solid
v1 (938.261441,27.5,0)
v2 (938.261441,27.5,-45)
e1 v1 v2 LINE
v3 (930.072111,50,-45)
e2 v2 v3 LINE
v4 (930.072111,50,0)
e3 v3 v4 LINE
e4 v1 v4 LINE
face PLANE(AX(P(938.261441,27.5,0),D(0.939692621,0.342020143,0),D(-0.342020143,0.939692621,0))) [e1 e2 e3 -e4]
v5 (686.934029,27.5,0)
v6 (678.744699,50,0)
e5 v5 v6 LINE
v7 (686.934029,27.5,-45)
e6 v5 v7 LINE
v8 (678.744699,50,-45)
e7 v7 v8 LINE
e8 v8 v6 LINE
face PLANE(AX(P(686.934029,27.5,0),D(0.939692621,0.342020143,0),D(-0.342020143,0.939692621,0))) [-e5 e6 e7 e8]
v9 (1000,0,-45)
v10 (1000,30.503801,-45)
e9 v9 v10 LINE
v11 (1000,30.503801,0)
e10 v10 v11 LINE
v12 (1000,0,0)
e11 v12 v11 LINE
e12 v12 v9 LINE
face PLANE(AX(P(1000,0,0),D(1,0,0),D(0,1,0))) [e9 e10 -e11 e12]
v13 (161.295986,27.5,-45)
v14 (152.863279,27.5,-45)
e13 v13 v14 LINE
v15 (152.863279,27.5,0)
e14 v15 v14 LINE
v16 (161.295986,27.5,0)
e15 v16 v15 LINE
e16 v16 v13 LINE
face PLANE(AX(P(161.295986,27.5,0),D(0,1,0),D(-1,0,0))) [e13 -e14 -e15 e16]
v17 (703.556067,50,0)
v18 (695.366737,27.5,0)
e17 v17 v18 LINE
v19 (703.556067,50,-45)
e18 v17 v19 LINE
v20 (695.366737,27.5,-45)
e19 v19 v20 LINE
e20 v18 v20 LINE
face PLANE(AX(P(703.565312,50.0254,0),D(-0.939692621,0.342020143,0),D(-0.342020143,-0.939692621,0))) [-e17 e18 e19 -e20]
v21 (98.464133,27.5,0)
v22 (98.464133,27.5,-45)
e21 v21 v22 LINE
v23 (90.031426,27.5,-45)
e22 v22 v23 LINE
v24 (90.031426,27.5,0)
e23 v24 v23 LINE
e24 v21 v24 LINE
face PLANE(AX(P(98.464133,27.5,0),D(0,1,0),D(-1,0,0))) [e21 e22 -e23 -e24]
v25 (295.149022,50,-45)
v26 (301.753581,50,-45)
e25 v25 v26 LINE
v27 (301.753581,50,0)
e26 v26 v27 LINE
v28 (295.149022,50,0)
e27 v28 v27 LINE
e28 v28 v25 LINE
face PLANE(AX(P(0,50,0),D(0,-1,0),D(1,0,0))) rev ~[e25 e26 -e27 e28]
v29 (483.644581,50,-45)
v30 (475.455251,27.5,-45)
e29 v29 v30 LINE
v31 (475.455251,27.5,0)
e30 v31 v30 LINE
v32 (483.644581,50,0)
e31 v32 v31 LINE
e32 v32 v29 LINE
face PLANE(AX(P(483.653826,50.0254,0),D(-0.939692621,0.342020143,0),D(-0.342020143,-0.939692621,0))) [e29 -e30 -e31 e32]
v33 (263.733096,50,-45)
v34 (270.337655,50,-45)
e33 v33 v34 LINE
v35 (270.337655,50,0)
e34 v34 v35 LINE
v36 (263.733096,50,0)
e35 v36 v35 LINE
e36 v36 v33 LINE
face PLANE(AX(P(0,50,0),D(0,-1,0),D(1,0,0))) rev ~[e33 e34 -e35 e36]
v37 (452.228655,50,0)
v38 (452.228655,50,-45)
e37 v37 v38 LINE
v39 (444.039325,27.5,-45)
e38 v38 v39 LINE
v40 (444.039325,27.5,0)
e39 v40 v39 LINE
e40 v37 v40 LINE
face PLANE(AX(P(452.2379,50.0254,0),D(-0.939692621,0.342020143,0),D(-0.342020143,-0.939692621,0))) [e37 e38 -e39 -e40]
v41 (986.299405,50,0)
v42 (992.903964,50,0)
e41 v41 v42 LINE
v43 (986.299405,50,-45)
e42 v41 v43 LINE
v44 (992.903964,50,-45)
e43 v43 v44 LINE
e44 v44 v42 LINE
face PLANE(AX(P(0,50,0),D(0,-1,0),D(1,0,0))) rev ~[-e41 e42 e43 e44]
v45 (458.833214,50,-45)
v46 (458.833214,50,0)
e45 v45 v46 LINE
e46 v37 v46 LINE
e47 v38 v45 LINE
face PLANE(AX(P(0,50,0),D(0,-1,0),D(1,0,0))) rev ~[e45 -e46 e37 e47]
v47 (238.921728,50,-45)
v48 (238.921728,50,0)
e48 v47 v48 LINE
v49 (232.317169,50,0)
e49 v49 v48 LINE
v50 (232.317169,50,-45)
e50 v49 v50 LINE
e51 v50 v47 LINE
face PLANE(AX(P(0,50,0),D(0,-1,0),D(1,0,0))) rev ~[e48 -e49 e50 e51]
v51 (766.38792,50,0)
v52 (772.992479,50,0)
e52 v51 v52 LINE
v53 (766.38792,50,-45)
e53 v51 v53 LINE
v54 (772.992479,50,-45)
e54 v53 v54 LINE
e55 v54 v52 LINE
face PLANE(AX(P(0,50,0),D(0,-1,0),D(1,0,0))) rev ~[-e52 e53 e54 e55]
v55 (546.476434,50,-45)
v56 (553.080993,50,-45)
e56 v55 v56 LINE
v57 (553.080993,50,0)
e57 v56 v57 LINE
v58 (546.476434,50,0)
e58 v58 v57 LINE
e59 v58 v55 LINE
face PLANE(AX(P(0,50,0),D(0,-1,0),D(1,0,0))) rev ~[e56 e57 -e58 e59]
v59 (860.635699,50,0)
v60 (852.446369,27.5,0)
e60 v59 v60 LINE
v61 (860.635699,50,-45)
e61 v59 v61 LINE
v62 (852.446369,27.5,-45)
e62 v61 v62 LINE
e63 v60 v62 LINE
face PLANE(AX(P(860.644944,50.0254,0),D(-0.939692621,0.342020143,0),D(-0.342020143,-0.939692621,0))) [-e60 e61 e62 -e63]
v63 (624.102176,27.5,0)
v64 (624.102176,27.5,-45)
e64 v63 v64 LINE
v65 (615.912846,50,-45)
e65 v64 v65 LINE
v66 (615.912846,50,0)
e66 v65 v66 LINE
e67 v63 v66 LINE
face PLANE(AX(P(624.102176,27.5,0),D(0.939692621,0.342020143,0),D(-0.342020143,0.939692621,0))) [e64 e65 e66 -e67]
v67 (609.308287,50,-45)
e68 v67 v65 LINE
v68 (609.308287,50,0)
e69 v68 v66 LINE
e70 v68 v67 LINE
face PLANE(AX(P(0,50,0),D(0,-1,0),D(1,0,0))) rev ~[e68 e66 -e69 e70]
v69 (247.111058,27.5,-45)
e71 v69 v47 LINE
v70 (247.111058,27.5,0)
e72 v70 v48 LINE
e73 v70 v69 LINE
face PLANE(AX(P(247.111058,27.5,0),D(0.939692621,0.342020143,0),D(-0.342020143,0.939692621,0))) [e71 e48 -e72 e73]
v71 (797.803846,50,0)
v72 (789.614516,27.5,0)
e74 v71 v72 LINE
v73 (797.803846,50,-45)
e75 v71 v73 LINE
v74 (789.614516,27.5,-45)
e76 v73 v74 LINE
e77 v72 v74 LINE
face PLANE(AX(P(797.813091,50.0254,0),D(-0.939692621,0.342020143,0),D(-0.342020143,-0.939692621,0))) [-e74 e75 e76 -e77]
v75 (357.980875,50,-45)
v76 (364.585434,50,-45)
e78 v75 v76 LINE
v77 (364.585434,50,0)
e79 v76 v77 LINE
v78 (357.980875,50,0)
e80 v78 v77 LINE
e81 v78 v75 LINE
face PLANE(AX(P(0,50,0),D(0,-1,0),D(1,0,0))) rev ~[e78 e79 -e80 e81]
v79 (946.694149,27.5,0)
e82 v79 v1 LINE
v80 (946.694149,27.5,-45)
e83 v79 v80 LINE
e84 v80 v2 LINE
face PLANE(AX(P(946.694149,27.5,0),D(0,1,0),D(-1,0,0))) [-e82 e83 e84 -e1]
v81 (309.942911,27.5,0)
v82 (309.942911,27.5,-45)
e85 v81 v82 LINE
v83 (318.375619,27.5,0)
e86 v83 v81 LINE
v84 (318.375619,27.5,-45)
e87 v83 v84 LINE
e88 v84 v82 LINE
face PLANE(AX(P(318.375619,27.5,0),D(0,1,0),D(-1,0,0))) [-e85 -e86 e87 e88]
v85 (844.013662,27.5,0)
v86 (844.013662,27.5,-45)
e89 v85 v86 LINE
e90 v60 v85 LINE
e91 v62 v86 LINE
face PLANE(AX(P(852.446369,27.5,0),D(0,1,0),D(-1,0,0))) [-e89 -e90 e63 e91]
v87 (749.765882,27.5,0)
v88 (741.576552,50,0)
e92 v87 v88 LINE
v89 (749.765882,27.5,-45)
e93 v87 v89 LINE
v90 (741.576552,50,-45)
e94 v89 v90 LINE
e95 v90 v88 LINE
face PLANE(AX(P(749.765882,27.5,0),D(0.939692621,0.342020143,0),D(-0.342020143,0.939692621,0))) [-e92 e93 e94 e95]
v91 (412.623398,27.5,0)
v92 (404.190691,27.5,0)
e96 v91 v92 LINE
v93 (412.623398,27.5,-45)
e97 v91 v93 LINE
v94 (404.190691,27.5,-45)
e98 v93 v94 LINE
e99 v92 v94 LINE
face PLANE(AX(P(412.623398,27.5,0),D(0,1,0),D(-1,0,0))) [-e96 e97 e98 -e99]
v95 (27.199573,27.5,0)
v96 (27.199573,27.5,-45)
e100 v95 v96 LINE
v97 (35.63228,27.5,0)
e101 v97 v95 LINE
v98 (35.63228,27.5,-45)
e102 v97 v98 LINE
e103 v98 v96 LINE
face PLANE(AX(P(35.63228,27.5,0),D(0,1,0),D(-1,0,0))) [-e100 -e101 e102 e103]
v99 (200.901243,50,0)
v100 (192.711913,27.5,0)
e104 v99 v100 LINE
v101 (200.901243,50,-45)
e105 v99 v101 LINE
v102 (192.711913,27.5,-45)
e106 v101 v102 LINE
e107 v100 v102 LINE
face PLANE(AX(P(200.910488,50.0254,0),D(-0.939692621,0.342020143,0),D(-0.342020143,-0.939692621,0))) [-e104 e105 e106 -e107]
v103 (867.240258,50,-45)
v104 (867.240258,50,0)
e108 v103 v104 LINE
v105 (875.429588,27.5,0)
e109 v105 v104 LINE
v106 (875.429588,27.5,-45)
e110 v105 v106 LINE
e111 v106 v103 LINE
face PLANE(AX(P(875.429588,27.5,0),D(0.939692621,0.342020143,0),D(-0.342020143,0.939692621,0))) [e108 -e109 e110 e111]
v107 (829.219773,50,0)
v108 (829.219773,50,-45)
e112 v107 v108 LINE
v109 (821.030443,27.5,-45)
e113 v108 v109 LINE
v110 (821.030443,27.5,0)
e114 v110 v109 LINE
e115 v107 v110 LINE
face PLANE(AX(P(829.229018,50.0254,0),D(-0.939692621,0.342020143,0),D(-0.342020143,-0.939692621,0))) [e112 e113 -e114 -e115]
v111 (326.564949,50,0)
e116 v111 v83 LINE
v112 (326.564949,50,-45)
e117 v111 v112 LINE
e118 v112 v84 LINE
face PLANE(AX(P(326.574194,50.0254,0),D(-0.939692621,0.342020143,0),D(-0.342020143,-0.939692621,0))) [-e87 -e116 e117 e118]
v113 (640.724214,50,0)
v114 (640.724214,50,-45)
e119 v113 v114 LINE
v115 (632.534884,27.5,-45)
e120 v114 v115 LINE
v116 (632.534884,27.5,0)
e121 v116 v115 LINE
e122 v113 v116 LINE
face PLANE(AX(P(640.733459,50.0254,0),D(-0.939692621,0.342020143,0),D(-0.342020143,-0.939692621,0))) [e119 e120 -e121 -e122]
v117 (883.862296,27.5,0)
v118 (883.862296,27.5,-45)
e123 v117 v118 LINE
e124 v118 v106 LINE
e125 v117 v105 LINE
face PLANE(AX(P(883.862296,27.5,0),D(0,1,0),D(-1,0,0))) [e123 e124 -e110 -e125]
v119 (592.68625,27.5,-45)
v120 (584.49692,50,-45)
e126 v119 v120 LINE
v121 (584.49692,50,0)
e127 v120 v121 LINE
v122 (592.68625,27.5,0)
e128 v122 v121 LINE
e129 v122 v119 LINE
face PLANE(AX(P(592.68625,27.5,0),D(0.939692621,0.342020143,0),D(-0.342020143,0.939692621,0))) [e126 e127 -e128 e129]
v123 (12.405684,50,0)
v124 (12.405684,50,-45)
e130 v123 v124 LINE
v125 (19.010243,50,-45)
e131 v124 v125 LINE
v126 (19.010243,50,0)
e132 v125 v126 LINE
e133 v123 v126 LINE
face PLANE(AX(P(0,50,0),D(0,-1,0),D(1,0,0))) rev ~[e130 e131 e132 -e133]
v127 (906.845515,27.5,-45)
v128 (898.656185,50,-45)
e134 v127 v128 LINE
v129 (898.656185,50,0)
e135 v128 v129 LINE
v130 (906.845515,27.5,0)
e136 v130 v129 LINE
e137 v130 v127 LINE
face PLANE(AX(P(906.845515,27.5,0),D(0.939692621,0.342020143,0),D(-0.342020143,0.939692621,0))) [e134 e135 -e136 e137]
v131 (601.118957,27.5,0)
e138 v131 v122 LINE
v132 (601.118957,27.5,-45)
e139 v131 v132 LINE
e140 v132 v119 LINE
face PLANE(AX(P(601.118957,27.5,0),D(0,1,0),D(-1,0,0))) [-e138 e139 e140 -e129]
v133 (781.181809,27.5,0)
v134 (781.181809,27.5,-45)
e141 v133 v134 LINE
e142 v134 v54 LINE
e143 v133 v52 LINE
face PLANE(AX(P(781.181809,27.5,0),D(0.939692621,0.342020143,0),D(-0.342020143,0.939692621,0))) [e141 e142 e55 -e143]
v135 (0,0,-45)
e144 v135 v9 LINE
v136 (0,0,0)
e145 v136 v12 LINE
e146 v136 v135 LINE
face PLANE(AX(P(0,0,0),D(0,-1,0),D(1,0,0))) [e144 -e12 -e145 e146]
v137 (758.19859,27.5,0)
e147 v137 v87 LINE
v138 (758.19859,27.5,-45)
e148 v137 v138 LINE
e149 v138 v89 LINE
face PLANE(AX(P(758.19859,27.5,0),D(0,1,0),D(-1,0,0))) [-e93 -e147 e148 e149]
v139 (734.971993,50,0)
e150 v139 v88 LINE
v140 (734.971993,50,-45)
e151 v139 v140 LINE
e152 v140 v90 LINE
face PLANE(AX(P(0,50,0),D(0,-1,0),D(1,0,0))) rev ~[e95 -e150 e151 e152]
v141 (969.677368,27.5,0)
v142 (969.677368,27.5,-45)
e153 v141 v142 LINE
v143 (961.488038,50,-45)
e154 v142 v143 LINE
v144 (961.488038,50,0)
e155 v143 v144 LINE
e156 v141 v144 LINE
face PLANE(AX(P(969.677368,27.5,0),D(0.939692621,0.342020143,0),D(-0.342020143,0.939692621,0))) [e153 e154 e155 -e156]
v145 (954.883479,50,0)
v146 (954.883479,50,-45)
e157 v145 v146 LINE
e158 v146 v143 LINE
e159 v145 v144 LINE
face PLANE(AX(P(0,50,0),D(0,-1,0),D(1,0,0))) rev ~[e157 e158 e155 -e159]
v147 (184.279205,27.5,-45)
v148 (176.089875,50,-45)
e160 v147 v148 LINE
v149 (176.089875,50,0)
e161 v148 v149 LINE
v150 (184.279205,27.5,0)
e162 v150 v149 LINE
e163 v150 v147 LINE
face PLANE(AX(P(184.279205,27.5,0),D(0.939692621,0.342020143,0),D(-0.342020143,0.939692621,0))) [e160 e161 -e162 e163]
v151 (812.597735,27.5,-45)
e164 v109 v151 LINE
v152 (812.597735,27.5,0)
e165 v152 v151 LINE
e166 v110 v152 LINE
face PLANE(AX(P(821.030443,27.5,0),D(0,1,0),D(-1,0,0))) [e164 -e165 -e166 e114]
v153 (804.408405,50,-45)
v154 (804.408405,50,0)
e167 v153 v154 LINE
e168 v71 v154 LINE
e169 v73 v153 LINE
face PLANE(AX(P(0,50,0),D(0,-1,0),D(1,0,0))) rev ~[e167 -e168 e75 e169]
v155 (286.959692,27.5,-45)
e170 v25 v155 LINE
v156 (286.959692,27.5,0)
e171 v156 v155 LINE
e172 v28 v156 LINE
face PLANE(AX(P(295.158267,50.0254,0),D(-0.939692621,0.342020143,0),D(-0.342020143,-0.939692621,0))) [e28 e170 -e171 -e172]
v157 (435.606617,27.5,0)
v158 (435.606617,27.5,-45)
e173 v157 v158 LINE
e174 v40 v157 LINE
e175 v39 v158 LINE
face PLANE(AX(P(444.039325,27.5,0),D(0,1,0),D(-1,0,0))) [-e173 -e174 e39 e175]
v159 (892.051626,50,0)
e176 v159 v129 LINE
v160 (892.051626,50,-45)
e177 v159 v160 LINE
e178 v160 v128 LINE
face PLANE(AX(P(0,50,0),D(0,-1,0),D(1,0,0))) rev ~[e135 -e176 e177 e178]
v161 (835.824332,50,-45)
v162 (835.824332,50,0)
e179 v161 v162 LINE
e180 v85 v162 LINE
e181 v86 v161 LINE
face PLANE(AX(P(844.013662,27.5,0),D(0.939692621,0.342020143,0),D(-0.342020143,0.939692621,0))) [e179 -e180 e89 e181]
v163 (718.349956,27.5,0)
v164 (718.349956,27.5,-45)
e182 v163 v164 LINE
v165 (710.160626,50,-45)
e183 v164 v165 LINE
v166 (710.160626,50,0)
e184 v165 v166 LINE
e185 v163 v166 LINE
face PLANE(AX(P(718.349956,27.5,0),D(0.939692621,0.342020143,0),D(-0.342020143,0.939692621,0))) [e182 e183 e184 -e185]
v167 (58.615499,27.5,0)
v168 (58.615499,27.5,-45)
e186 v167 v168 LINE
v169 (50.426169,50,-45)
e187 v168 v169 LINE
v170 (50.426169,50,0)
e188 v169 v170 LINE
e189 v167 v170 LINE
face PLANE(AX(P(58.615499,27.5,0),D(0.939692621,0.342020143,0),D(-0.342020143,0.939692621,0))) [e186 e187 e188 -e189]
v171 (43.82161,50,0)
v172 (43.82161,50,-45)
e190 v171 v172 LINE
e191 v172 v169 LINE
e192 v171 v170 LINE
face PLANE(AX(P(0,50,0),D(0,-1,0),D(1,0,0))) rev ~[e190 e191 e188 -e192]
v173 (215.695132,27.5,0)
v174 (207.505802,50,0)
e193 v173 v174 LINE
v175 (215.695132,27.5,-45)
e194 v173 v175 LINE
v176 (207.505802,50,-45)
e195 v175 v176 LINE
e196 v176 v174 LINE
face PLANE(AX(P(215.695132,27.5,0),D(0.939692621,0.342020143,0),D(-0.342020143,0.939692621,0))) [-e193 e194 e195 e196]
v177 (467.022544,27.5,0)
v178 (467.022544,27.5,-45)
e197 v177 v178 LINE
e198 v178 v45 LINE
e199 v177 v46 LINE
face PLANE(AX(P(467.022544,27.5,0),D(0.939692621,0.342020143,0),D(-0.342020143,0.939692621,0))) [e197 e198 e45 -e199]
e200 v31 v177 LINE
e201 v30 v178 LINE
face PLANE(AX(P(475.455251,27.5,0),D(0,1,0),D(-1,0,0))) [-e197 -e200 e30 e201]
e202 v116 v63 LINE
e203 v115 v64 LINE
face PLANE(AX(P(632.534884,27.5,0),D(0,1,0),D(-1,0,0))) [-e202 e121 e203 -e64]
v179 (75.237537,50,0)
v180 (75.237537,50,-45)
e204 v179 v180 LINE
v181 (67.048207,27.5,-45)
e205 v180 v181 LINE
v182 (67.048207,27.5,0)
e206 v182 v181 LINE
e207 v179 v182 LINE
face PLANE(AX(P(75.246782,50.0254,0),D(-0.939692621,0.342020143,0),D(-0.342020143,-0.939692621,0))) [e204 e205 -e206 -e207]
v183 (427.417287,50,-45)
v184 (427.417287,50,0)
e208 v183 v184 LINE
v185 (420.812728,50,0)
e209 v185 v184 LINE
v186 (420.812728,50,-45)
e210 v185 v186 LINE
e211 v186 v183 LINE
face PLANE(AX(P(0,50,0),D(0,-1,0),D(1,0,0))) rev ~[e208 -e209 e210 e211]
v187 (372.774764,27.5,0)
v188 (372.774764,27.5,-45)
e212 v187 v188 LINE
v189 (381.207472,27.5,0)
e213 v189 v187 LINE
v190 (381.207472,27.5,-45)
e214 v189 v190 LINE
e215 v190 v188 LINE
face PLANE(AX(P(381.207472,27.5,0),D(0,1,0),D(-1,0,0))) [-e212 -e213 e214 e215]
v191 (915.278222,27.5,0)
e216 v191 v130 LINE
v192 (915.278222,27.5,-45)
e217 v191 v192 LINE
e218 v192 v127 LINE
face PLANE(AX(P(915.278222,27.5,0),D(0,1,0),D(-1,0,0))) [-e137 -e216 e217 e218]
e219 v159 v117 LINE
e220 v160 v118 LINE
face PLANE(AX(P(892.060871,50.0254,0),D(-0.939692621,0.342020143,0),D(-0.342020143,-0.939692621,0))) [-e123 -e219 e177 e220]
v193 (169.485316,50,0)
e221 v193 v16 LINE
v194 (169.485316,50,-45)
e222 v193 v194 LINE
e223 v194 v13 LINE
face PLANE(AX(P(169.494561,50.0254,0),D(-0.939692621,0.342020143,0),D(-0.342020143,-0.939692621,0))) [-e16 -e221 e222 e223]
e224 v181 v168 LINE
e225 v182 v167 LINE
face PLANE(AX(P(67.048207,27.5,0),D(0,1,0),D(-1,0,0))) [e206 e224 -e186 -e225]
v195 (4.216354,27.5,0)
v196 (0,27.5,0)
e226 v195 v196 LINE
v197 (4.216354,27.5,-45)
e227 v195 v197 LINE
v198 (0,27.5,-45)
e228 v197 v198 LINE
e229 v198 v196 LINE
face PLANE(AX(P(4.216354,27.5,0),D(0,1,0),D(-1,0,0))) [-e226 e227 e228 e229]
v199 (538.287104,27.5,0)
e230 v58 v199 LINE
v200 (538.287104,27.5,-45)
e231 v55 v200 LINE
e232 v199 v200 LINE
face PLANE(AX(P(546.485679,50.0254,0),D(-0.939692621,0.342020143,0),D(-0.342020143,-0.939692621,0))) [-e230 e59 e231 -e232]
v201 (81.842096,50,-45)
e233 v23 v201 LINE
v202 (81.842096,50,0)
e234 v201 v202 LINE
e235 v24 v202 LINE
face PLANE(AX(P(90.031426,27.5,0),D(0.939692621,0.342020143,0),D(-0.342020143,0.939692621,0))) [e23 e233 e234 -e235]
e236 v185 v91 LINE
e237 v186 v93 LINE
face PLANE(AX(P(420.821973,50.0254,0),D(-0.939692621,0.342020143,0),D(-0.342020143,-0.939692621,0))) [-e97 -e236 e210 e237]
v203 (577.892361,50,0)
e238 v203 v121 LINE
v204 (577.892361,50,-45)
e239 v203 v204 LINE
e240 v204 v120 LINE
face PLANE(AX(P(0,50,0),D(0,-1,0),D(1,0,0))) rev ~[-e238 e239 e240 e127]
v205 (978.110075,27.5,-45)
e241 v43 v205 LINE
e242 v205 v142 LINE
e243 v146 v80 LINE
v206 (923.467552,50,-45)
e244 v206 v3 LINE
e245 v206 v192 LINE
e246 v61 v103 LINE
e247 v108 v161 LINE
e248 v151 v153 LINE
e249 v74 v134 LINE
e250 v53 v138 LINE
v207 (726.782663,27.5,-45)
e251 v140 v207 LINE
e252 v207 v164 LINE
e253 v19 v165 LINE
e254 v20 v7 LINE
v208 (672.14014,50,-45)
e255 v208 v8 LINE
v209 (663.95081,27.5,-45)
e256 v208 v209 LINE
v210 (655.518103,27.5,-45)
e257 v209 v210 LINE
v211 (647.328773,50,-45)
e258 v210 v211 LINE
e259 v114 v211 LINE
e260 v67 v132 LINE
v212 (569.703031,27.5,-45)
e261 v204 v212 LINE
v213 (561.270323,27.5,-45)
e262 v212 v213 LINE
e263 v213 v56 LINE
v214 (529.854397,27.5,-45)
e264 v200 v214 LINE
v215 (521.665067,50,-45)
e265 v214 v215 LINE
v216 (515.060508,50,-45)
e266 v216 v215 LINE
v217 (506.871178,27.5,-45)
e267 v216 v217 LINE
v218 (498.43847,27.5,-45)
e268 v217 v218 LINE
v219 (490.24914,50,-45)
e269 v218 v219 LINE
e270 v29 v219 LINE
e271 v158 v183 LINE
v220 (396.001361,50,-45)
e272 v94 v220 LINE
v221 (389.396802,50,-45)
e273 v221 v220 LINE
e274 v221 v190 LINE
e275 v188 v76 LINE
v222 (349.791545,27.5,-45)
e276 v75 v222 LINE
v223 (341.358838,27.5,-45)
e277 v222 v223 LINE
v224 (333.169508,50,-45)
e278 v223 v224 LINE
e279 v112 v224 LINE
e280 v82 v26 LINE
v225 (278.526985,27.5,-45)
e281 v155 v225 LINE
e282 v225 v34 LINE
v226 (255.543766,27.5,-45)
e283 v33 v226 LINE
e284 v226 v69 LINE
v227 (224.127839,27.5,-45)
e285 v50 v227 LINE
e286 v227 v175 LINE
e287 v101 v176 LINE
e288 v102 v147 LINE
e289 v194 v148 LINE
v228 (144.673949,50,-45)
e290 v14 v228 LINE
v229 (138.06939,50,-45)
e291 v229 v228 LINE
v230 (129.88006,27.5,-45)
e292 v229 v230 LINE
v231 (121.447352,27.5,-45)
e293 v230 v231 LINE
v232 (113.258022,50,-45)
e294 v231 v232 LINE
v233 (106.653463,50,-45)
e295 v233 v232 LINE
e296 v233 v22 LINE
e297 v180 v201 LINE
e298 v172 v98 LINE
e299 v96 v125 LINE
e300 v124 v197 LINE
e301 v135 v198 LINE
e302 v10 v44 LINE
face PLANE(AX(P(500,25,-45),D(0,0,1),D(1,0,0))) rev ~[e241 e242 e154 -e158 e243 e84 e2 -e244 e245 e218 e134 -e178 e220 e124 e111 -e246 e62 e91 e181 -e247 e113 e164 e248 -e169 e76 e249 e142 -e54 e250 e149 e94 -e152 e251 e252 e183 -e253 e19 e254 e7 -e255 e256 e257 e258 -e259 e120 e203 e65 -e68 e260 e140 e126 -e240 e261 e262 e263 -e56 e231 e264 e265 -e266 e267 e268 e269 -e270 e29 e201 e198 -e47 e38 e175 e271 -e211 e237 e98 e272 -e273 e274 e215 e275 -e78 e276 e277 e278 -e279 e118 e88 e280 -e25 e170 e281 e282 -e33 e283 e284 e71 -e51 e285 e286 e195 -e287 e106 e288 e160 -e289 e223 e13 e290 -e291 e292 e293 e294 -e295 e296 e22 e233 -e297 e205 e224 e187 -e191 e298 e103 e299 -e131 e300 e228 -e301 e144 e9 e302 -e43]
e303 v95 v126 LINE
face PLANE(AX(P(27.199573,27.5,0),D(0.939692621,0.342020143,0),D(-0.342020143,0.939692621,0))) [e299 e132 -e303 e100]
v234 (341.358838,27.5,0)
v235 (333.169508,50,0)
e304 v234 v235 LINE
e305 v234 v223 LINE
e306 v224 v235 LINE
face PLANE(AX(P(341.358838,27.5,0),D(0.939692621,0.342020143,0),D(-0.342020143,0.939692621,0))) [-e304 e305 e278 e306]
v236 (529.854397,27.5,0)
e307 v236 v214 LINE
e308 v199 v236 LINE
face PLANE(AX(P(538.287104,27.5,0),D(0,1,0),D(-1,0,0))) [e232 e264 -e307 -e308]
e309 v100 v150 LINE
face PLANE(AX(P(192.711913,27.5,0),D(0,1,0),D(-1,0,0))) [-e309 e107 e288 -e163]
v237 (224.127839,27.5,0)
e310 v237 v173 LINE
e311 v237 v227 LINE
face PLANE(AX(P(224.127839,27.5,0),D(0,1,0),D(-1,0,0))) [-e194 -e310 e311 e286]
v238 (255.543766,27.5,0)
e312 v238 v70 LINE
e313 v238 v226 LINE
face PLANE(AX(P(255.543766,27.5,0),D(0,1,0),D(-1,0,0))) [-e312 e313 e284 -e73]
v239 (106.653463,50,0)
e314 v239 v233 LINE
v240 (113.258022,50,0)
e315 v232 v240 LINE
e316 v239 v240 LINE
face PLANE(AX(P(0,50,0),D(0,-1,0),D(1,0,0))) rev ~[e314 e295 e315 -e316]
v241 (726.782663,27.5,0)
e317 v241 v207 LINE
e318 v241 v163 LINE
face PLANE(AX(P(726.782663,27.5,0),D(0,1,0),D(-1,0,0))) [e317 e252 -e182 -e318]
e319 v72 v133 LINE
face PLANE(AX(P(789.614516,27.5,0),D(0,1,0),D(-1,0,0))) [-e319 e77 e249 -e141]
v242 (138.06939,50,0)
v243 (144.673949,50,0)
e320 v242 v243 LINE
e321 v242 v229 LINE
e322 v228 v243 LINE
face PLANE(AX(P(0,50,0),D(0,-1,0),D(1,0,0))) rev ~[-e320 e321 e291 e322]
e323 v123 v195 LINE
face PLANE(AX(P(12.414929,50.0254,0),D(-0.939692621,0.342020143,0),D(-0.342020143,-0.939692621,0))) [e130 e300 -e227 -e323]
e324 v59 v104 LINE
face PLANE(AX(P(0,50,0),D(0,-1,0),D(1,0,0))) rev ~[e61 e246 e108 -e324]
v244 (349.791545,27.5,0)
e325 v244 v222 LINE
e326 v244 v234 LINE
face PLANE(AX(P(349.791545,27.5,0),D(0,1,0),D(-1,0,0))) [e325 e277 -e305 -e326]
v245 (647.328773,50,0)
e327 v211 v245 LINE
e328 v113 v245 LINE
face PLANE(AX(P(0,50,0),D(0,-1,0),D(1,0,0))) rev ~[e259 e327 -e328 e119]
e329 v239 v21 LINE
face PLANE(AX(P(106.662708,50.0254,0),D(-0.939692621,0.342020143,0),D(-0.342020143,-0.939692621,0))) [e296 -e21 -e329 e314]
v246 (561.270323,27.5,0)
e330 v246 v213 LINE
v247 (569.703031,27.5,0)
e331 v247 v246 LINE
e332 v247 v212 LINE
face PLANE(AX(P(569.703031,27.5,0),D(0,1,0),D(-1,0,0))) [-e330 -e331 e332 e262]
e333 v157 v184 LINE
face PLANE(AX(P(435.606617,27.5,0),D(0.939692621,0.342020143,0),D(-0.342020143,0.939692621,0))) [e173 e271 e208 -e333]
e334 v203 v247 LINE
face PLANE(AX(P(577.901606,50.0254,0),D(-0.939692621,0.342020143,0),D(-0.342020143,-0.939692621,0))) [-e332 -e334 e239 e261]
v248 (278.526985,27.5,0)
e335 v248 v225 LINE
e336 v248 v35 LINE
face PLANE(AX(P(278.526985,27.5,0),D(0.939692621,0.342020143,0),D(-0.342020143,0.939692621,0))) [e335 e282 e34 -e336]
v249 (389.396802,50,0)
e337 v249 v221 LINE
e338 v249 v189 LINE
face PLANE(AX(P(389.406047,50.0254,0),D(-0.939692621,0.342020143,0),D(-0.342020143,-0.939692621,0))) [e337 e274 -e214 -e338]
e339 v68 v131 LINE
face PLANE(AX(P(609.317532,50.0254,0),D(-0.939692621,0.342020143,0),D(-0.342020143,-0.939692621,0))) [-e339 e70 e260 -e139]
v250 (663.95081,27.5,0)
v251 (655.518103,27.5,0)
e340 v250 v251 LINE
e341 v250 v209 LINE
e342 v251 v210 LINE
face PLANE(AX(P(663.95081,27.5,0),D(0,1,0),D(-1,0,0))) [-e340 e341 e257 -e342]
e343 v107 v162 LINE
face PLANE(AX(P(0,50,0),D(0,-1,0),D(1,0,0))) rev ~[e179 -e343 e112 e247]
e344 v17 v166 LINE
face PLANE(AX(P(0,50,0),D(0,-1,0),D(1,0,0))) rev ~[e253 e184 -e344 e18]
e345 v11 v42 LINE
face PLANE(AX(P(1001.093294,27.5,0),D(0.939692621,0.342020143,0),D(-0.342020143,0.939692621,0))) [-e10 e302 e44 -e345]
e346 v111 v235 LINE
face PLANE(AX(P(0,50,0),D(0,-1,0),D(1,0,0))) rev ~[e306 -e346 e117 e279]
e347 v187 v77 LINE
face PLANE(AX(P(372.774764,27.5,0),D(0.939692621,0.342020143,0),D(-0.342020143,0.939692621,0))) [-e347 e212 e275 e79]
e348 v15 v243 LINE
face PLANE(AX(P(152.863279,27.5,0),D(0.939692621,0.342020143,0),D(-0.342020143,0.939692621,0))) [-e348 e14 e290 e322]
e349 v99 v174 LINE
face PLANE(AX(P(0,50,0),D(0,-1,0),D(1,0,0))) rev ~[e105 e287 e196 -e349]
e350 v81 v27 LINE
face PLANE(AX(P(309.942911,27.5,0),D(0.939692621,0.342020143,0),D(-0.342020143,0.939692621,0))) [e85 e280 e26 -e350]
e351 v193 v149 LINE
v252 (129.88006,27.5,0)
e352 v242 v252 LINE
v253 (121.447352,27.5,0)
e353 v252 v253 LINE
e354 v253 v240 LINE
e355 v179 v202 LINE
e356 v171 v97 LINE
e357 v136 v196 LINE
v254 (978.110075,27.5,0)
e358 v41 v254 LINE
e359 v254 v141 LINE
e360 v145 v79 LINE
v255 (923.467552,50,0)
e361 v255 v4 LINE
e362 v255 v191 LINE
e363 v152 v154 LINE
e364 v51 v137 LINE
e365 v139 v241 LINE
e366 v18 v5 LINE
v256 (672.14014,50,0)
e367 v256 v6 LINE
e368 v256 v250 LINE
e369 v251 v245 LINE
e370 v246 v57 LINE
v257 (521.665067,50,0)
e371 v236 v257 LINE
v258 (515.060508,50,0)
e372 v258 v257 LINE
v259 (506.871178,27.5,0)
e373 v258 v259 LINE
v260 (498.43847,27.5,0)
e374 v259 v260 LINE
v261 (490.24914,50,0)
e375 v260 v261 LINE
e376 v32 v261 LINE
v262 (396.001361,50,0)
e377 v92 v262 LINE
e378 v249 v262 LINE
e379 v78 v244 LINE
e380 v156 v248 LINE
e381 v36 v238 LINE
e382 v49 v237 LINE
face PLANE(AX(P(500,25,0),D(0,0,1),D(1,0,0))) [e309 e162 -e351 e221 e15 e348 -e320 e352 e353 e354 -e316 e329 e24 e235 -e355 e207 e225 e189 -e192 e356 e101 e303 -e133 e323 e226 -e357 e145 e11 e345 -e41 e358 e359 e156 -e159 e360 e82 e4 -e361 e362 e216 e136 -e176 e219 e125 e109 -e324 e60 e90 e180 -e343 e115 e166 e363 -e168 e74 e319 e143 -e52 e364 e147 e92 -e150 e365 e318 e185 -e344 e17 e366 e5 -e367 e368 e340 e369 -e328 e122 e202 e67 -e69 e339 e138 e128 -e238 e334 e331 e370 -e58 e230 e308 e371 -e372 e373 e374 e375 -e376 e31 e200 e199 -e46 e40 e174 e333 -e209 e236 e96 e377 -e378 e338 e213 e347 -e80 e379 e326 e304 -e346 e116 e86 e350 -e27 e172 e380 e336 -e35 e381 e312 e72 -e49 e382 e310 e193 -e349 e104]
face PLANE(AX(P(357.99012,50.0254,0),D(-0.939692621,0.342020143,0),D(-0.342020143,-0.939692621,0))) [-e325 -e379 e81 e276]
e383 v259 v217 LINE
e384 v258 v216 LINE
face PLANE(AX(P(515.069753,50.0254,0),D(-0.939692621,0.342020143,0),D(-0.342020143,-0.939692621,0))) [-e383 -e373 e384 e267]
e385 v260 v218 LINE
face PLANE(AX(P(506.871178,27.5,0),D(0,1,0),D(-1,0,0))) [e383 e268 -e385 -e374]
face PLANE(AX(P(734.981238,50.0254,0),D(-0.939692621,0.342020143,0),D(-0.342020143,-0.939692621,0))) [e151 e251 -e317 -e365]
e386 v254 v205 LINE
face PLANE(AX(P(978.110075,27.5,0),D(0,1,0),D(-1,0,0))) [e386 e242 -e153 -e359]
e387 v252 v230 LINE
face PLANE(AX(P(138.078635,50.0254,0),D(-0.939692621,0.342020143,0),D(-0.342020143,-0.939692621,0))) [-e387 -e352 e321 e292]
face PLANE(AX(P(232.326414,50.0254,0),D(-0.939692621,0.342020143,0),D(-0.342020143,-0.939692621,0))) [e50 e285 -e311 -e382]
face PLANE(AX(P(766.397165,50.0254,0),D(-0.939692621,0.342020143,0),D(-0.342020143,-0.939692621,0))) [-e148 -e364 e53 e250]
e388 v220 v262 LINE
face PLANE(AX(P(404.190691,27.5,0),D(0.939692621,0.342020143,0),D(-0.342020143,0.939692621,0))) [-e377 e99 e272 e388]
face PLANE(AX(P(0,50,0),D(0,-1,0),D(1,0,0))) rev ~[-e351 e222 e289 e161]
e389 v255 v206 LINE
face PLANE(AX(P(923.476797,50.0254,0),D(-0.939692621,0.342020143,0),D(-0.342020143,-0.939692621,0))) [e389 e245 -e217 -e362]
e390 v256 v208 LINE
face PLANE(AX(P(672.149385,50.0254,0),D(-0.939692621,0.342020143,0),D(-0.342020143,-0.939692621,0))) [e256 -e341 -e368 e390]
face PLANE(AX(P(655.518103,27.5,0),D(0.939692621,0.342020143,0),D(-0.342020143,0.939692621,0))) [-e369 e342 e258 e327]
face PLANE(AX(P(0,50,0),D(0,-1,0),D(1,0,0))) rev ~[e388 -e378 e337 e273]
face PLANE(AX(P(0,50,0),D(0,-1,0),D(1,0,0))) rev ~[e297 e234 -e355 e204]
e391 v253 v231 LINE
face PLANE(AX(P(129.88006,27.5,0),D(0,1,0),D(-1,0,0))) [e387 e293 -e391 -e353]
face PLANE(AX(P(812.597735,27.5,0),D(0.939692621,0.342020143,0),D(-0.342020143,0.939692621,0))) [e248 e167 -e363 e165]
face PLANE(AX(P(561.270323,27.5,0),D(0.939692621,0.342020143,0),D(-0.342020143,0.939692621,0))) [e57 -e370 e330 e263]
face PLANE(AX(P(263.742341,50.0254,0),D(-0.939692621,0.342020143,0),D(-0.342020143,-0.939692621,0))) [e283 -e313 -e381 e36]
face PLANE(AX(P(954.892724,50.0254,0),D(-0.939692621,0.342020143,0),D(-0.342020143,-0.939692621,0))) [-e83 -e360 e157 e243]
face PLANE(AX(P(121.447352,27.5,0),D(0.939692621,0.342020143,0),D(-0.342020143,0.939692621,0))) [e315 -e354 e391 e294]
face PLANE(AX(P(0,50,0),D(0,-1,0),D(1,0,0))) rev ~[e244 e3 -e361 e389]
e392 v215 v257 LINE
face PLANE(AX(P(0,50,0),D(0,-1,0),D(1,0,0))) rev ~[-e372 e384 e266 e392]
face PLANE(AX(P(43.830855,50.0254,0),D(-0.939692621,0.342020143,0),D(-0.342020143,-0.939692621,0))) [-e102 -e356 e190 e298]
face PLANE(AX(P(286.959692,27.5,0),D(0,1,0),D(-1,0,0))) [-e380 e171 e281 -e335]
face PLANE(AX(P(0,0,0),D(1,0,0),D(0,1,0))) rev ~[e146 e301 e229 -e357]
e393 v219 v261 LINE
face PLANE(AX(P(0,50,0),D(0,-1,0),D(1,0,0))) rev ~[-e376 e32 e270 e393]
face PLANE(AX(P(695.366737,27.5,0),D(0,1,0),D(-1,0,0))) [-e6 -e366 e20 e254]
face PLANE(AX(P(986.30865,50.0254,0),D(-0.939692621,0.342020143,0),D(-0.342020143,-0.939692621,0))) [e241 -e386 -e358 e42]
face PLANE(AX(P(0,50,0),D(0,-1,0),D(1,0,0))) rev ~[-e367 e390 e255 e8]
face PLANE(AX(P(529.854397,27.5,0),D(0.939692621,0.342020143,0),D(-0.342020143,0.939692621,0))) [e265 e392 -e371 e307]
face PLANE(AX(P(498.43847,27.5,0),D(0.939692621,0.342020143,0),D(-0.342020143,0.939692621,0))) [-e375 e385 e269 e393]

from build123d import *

# Parameters (mm, degrees)
BLANKSKE_W        = 1000
BLANKSKE_H        = 50
BLANK_DEPTH       = 45
TOOTHCUTSIM_DEPTH = 1003.259946321
TEETHCUTS_COUNT   = 33
TEETHCUTS_PITCH   = 31.4159265


with BuildPart() as part:
    # BlankSke → Blank (new body)
    with BuildSketch(Plane.XY):
        with Locations((500, 25)):
            Rectangle(BLANKSKE_W, BLANKSKE_H)
    extrude(amount=-BLANK_DEPTH)

    # TooCutSkeSim → ToothCutSim (cut, through all)
    with BuildSketch(Plane.XY):
        Polygon((4.216353697, 27.5), (-4.216353697, 27.5), (-12.414928812, 50.0254), (12.414928812, 50.0254), align=None)
    toothcutsim = extrude(amount=-TOOTHCUTSIM_DEPTH, mode=Mode.SUBTRACT)

    # TeethCuts: ToothCutSim ×33
    with Locations(*[(i * TEETHCUTS_PITCH, 0, 0) for i in range(1, TEETHCUTS_COUNT)]):
        add(toothcutsim, mode=Mode.SUBTRACT)


solid = part.part
